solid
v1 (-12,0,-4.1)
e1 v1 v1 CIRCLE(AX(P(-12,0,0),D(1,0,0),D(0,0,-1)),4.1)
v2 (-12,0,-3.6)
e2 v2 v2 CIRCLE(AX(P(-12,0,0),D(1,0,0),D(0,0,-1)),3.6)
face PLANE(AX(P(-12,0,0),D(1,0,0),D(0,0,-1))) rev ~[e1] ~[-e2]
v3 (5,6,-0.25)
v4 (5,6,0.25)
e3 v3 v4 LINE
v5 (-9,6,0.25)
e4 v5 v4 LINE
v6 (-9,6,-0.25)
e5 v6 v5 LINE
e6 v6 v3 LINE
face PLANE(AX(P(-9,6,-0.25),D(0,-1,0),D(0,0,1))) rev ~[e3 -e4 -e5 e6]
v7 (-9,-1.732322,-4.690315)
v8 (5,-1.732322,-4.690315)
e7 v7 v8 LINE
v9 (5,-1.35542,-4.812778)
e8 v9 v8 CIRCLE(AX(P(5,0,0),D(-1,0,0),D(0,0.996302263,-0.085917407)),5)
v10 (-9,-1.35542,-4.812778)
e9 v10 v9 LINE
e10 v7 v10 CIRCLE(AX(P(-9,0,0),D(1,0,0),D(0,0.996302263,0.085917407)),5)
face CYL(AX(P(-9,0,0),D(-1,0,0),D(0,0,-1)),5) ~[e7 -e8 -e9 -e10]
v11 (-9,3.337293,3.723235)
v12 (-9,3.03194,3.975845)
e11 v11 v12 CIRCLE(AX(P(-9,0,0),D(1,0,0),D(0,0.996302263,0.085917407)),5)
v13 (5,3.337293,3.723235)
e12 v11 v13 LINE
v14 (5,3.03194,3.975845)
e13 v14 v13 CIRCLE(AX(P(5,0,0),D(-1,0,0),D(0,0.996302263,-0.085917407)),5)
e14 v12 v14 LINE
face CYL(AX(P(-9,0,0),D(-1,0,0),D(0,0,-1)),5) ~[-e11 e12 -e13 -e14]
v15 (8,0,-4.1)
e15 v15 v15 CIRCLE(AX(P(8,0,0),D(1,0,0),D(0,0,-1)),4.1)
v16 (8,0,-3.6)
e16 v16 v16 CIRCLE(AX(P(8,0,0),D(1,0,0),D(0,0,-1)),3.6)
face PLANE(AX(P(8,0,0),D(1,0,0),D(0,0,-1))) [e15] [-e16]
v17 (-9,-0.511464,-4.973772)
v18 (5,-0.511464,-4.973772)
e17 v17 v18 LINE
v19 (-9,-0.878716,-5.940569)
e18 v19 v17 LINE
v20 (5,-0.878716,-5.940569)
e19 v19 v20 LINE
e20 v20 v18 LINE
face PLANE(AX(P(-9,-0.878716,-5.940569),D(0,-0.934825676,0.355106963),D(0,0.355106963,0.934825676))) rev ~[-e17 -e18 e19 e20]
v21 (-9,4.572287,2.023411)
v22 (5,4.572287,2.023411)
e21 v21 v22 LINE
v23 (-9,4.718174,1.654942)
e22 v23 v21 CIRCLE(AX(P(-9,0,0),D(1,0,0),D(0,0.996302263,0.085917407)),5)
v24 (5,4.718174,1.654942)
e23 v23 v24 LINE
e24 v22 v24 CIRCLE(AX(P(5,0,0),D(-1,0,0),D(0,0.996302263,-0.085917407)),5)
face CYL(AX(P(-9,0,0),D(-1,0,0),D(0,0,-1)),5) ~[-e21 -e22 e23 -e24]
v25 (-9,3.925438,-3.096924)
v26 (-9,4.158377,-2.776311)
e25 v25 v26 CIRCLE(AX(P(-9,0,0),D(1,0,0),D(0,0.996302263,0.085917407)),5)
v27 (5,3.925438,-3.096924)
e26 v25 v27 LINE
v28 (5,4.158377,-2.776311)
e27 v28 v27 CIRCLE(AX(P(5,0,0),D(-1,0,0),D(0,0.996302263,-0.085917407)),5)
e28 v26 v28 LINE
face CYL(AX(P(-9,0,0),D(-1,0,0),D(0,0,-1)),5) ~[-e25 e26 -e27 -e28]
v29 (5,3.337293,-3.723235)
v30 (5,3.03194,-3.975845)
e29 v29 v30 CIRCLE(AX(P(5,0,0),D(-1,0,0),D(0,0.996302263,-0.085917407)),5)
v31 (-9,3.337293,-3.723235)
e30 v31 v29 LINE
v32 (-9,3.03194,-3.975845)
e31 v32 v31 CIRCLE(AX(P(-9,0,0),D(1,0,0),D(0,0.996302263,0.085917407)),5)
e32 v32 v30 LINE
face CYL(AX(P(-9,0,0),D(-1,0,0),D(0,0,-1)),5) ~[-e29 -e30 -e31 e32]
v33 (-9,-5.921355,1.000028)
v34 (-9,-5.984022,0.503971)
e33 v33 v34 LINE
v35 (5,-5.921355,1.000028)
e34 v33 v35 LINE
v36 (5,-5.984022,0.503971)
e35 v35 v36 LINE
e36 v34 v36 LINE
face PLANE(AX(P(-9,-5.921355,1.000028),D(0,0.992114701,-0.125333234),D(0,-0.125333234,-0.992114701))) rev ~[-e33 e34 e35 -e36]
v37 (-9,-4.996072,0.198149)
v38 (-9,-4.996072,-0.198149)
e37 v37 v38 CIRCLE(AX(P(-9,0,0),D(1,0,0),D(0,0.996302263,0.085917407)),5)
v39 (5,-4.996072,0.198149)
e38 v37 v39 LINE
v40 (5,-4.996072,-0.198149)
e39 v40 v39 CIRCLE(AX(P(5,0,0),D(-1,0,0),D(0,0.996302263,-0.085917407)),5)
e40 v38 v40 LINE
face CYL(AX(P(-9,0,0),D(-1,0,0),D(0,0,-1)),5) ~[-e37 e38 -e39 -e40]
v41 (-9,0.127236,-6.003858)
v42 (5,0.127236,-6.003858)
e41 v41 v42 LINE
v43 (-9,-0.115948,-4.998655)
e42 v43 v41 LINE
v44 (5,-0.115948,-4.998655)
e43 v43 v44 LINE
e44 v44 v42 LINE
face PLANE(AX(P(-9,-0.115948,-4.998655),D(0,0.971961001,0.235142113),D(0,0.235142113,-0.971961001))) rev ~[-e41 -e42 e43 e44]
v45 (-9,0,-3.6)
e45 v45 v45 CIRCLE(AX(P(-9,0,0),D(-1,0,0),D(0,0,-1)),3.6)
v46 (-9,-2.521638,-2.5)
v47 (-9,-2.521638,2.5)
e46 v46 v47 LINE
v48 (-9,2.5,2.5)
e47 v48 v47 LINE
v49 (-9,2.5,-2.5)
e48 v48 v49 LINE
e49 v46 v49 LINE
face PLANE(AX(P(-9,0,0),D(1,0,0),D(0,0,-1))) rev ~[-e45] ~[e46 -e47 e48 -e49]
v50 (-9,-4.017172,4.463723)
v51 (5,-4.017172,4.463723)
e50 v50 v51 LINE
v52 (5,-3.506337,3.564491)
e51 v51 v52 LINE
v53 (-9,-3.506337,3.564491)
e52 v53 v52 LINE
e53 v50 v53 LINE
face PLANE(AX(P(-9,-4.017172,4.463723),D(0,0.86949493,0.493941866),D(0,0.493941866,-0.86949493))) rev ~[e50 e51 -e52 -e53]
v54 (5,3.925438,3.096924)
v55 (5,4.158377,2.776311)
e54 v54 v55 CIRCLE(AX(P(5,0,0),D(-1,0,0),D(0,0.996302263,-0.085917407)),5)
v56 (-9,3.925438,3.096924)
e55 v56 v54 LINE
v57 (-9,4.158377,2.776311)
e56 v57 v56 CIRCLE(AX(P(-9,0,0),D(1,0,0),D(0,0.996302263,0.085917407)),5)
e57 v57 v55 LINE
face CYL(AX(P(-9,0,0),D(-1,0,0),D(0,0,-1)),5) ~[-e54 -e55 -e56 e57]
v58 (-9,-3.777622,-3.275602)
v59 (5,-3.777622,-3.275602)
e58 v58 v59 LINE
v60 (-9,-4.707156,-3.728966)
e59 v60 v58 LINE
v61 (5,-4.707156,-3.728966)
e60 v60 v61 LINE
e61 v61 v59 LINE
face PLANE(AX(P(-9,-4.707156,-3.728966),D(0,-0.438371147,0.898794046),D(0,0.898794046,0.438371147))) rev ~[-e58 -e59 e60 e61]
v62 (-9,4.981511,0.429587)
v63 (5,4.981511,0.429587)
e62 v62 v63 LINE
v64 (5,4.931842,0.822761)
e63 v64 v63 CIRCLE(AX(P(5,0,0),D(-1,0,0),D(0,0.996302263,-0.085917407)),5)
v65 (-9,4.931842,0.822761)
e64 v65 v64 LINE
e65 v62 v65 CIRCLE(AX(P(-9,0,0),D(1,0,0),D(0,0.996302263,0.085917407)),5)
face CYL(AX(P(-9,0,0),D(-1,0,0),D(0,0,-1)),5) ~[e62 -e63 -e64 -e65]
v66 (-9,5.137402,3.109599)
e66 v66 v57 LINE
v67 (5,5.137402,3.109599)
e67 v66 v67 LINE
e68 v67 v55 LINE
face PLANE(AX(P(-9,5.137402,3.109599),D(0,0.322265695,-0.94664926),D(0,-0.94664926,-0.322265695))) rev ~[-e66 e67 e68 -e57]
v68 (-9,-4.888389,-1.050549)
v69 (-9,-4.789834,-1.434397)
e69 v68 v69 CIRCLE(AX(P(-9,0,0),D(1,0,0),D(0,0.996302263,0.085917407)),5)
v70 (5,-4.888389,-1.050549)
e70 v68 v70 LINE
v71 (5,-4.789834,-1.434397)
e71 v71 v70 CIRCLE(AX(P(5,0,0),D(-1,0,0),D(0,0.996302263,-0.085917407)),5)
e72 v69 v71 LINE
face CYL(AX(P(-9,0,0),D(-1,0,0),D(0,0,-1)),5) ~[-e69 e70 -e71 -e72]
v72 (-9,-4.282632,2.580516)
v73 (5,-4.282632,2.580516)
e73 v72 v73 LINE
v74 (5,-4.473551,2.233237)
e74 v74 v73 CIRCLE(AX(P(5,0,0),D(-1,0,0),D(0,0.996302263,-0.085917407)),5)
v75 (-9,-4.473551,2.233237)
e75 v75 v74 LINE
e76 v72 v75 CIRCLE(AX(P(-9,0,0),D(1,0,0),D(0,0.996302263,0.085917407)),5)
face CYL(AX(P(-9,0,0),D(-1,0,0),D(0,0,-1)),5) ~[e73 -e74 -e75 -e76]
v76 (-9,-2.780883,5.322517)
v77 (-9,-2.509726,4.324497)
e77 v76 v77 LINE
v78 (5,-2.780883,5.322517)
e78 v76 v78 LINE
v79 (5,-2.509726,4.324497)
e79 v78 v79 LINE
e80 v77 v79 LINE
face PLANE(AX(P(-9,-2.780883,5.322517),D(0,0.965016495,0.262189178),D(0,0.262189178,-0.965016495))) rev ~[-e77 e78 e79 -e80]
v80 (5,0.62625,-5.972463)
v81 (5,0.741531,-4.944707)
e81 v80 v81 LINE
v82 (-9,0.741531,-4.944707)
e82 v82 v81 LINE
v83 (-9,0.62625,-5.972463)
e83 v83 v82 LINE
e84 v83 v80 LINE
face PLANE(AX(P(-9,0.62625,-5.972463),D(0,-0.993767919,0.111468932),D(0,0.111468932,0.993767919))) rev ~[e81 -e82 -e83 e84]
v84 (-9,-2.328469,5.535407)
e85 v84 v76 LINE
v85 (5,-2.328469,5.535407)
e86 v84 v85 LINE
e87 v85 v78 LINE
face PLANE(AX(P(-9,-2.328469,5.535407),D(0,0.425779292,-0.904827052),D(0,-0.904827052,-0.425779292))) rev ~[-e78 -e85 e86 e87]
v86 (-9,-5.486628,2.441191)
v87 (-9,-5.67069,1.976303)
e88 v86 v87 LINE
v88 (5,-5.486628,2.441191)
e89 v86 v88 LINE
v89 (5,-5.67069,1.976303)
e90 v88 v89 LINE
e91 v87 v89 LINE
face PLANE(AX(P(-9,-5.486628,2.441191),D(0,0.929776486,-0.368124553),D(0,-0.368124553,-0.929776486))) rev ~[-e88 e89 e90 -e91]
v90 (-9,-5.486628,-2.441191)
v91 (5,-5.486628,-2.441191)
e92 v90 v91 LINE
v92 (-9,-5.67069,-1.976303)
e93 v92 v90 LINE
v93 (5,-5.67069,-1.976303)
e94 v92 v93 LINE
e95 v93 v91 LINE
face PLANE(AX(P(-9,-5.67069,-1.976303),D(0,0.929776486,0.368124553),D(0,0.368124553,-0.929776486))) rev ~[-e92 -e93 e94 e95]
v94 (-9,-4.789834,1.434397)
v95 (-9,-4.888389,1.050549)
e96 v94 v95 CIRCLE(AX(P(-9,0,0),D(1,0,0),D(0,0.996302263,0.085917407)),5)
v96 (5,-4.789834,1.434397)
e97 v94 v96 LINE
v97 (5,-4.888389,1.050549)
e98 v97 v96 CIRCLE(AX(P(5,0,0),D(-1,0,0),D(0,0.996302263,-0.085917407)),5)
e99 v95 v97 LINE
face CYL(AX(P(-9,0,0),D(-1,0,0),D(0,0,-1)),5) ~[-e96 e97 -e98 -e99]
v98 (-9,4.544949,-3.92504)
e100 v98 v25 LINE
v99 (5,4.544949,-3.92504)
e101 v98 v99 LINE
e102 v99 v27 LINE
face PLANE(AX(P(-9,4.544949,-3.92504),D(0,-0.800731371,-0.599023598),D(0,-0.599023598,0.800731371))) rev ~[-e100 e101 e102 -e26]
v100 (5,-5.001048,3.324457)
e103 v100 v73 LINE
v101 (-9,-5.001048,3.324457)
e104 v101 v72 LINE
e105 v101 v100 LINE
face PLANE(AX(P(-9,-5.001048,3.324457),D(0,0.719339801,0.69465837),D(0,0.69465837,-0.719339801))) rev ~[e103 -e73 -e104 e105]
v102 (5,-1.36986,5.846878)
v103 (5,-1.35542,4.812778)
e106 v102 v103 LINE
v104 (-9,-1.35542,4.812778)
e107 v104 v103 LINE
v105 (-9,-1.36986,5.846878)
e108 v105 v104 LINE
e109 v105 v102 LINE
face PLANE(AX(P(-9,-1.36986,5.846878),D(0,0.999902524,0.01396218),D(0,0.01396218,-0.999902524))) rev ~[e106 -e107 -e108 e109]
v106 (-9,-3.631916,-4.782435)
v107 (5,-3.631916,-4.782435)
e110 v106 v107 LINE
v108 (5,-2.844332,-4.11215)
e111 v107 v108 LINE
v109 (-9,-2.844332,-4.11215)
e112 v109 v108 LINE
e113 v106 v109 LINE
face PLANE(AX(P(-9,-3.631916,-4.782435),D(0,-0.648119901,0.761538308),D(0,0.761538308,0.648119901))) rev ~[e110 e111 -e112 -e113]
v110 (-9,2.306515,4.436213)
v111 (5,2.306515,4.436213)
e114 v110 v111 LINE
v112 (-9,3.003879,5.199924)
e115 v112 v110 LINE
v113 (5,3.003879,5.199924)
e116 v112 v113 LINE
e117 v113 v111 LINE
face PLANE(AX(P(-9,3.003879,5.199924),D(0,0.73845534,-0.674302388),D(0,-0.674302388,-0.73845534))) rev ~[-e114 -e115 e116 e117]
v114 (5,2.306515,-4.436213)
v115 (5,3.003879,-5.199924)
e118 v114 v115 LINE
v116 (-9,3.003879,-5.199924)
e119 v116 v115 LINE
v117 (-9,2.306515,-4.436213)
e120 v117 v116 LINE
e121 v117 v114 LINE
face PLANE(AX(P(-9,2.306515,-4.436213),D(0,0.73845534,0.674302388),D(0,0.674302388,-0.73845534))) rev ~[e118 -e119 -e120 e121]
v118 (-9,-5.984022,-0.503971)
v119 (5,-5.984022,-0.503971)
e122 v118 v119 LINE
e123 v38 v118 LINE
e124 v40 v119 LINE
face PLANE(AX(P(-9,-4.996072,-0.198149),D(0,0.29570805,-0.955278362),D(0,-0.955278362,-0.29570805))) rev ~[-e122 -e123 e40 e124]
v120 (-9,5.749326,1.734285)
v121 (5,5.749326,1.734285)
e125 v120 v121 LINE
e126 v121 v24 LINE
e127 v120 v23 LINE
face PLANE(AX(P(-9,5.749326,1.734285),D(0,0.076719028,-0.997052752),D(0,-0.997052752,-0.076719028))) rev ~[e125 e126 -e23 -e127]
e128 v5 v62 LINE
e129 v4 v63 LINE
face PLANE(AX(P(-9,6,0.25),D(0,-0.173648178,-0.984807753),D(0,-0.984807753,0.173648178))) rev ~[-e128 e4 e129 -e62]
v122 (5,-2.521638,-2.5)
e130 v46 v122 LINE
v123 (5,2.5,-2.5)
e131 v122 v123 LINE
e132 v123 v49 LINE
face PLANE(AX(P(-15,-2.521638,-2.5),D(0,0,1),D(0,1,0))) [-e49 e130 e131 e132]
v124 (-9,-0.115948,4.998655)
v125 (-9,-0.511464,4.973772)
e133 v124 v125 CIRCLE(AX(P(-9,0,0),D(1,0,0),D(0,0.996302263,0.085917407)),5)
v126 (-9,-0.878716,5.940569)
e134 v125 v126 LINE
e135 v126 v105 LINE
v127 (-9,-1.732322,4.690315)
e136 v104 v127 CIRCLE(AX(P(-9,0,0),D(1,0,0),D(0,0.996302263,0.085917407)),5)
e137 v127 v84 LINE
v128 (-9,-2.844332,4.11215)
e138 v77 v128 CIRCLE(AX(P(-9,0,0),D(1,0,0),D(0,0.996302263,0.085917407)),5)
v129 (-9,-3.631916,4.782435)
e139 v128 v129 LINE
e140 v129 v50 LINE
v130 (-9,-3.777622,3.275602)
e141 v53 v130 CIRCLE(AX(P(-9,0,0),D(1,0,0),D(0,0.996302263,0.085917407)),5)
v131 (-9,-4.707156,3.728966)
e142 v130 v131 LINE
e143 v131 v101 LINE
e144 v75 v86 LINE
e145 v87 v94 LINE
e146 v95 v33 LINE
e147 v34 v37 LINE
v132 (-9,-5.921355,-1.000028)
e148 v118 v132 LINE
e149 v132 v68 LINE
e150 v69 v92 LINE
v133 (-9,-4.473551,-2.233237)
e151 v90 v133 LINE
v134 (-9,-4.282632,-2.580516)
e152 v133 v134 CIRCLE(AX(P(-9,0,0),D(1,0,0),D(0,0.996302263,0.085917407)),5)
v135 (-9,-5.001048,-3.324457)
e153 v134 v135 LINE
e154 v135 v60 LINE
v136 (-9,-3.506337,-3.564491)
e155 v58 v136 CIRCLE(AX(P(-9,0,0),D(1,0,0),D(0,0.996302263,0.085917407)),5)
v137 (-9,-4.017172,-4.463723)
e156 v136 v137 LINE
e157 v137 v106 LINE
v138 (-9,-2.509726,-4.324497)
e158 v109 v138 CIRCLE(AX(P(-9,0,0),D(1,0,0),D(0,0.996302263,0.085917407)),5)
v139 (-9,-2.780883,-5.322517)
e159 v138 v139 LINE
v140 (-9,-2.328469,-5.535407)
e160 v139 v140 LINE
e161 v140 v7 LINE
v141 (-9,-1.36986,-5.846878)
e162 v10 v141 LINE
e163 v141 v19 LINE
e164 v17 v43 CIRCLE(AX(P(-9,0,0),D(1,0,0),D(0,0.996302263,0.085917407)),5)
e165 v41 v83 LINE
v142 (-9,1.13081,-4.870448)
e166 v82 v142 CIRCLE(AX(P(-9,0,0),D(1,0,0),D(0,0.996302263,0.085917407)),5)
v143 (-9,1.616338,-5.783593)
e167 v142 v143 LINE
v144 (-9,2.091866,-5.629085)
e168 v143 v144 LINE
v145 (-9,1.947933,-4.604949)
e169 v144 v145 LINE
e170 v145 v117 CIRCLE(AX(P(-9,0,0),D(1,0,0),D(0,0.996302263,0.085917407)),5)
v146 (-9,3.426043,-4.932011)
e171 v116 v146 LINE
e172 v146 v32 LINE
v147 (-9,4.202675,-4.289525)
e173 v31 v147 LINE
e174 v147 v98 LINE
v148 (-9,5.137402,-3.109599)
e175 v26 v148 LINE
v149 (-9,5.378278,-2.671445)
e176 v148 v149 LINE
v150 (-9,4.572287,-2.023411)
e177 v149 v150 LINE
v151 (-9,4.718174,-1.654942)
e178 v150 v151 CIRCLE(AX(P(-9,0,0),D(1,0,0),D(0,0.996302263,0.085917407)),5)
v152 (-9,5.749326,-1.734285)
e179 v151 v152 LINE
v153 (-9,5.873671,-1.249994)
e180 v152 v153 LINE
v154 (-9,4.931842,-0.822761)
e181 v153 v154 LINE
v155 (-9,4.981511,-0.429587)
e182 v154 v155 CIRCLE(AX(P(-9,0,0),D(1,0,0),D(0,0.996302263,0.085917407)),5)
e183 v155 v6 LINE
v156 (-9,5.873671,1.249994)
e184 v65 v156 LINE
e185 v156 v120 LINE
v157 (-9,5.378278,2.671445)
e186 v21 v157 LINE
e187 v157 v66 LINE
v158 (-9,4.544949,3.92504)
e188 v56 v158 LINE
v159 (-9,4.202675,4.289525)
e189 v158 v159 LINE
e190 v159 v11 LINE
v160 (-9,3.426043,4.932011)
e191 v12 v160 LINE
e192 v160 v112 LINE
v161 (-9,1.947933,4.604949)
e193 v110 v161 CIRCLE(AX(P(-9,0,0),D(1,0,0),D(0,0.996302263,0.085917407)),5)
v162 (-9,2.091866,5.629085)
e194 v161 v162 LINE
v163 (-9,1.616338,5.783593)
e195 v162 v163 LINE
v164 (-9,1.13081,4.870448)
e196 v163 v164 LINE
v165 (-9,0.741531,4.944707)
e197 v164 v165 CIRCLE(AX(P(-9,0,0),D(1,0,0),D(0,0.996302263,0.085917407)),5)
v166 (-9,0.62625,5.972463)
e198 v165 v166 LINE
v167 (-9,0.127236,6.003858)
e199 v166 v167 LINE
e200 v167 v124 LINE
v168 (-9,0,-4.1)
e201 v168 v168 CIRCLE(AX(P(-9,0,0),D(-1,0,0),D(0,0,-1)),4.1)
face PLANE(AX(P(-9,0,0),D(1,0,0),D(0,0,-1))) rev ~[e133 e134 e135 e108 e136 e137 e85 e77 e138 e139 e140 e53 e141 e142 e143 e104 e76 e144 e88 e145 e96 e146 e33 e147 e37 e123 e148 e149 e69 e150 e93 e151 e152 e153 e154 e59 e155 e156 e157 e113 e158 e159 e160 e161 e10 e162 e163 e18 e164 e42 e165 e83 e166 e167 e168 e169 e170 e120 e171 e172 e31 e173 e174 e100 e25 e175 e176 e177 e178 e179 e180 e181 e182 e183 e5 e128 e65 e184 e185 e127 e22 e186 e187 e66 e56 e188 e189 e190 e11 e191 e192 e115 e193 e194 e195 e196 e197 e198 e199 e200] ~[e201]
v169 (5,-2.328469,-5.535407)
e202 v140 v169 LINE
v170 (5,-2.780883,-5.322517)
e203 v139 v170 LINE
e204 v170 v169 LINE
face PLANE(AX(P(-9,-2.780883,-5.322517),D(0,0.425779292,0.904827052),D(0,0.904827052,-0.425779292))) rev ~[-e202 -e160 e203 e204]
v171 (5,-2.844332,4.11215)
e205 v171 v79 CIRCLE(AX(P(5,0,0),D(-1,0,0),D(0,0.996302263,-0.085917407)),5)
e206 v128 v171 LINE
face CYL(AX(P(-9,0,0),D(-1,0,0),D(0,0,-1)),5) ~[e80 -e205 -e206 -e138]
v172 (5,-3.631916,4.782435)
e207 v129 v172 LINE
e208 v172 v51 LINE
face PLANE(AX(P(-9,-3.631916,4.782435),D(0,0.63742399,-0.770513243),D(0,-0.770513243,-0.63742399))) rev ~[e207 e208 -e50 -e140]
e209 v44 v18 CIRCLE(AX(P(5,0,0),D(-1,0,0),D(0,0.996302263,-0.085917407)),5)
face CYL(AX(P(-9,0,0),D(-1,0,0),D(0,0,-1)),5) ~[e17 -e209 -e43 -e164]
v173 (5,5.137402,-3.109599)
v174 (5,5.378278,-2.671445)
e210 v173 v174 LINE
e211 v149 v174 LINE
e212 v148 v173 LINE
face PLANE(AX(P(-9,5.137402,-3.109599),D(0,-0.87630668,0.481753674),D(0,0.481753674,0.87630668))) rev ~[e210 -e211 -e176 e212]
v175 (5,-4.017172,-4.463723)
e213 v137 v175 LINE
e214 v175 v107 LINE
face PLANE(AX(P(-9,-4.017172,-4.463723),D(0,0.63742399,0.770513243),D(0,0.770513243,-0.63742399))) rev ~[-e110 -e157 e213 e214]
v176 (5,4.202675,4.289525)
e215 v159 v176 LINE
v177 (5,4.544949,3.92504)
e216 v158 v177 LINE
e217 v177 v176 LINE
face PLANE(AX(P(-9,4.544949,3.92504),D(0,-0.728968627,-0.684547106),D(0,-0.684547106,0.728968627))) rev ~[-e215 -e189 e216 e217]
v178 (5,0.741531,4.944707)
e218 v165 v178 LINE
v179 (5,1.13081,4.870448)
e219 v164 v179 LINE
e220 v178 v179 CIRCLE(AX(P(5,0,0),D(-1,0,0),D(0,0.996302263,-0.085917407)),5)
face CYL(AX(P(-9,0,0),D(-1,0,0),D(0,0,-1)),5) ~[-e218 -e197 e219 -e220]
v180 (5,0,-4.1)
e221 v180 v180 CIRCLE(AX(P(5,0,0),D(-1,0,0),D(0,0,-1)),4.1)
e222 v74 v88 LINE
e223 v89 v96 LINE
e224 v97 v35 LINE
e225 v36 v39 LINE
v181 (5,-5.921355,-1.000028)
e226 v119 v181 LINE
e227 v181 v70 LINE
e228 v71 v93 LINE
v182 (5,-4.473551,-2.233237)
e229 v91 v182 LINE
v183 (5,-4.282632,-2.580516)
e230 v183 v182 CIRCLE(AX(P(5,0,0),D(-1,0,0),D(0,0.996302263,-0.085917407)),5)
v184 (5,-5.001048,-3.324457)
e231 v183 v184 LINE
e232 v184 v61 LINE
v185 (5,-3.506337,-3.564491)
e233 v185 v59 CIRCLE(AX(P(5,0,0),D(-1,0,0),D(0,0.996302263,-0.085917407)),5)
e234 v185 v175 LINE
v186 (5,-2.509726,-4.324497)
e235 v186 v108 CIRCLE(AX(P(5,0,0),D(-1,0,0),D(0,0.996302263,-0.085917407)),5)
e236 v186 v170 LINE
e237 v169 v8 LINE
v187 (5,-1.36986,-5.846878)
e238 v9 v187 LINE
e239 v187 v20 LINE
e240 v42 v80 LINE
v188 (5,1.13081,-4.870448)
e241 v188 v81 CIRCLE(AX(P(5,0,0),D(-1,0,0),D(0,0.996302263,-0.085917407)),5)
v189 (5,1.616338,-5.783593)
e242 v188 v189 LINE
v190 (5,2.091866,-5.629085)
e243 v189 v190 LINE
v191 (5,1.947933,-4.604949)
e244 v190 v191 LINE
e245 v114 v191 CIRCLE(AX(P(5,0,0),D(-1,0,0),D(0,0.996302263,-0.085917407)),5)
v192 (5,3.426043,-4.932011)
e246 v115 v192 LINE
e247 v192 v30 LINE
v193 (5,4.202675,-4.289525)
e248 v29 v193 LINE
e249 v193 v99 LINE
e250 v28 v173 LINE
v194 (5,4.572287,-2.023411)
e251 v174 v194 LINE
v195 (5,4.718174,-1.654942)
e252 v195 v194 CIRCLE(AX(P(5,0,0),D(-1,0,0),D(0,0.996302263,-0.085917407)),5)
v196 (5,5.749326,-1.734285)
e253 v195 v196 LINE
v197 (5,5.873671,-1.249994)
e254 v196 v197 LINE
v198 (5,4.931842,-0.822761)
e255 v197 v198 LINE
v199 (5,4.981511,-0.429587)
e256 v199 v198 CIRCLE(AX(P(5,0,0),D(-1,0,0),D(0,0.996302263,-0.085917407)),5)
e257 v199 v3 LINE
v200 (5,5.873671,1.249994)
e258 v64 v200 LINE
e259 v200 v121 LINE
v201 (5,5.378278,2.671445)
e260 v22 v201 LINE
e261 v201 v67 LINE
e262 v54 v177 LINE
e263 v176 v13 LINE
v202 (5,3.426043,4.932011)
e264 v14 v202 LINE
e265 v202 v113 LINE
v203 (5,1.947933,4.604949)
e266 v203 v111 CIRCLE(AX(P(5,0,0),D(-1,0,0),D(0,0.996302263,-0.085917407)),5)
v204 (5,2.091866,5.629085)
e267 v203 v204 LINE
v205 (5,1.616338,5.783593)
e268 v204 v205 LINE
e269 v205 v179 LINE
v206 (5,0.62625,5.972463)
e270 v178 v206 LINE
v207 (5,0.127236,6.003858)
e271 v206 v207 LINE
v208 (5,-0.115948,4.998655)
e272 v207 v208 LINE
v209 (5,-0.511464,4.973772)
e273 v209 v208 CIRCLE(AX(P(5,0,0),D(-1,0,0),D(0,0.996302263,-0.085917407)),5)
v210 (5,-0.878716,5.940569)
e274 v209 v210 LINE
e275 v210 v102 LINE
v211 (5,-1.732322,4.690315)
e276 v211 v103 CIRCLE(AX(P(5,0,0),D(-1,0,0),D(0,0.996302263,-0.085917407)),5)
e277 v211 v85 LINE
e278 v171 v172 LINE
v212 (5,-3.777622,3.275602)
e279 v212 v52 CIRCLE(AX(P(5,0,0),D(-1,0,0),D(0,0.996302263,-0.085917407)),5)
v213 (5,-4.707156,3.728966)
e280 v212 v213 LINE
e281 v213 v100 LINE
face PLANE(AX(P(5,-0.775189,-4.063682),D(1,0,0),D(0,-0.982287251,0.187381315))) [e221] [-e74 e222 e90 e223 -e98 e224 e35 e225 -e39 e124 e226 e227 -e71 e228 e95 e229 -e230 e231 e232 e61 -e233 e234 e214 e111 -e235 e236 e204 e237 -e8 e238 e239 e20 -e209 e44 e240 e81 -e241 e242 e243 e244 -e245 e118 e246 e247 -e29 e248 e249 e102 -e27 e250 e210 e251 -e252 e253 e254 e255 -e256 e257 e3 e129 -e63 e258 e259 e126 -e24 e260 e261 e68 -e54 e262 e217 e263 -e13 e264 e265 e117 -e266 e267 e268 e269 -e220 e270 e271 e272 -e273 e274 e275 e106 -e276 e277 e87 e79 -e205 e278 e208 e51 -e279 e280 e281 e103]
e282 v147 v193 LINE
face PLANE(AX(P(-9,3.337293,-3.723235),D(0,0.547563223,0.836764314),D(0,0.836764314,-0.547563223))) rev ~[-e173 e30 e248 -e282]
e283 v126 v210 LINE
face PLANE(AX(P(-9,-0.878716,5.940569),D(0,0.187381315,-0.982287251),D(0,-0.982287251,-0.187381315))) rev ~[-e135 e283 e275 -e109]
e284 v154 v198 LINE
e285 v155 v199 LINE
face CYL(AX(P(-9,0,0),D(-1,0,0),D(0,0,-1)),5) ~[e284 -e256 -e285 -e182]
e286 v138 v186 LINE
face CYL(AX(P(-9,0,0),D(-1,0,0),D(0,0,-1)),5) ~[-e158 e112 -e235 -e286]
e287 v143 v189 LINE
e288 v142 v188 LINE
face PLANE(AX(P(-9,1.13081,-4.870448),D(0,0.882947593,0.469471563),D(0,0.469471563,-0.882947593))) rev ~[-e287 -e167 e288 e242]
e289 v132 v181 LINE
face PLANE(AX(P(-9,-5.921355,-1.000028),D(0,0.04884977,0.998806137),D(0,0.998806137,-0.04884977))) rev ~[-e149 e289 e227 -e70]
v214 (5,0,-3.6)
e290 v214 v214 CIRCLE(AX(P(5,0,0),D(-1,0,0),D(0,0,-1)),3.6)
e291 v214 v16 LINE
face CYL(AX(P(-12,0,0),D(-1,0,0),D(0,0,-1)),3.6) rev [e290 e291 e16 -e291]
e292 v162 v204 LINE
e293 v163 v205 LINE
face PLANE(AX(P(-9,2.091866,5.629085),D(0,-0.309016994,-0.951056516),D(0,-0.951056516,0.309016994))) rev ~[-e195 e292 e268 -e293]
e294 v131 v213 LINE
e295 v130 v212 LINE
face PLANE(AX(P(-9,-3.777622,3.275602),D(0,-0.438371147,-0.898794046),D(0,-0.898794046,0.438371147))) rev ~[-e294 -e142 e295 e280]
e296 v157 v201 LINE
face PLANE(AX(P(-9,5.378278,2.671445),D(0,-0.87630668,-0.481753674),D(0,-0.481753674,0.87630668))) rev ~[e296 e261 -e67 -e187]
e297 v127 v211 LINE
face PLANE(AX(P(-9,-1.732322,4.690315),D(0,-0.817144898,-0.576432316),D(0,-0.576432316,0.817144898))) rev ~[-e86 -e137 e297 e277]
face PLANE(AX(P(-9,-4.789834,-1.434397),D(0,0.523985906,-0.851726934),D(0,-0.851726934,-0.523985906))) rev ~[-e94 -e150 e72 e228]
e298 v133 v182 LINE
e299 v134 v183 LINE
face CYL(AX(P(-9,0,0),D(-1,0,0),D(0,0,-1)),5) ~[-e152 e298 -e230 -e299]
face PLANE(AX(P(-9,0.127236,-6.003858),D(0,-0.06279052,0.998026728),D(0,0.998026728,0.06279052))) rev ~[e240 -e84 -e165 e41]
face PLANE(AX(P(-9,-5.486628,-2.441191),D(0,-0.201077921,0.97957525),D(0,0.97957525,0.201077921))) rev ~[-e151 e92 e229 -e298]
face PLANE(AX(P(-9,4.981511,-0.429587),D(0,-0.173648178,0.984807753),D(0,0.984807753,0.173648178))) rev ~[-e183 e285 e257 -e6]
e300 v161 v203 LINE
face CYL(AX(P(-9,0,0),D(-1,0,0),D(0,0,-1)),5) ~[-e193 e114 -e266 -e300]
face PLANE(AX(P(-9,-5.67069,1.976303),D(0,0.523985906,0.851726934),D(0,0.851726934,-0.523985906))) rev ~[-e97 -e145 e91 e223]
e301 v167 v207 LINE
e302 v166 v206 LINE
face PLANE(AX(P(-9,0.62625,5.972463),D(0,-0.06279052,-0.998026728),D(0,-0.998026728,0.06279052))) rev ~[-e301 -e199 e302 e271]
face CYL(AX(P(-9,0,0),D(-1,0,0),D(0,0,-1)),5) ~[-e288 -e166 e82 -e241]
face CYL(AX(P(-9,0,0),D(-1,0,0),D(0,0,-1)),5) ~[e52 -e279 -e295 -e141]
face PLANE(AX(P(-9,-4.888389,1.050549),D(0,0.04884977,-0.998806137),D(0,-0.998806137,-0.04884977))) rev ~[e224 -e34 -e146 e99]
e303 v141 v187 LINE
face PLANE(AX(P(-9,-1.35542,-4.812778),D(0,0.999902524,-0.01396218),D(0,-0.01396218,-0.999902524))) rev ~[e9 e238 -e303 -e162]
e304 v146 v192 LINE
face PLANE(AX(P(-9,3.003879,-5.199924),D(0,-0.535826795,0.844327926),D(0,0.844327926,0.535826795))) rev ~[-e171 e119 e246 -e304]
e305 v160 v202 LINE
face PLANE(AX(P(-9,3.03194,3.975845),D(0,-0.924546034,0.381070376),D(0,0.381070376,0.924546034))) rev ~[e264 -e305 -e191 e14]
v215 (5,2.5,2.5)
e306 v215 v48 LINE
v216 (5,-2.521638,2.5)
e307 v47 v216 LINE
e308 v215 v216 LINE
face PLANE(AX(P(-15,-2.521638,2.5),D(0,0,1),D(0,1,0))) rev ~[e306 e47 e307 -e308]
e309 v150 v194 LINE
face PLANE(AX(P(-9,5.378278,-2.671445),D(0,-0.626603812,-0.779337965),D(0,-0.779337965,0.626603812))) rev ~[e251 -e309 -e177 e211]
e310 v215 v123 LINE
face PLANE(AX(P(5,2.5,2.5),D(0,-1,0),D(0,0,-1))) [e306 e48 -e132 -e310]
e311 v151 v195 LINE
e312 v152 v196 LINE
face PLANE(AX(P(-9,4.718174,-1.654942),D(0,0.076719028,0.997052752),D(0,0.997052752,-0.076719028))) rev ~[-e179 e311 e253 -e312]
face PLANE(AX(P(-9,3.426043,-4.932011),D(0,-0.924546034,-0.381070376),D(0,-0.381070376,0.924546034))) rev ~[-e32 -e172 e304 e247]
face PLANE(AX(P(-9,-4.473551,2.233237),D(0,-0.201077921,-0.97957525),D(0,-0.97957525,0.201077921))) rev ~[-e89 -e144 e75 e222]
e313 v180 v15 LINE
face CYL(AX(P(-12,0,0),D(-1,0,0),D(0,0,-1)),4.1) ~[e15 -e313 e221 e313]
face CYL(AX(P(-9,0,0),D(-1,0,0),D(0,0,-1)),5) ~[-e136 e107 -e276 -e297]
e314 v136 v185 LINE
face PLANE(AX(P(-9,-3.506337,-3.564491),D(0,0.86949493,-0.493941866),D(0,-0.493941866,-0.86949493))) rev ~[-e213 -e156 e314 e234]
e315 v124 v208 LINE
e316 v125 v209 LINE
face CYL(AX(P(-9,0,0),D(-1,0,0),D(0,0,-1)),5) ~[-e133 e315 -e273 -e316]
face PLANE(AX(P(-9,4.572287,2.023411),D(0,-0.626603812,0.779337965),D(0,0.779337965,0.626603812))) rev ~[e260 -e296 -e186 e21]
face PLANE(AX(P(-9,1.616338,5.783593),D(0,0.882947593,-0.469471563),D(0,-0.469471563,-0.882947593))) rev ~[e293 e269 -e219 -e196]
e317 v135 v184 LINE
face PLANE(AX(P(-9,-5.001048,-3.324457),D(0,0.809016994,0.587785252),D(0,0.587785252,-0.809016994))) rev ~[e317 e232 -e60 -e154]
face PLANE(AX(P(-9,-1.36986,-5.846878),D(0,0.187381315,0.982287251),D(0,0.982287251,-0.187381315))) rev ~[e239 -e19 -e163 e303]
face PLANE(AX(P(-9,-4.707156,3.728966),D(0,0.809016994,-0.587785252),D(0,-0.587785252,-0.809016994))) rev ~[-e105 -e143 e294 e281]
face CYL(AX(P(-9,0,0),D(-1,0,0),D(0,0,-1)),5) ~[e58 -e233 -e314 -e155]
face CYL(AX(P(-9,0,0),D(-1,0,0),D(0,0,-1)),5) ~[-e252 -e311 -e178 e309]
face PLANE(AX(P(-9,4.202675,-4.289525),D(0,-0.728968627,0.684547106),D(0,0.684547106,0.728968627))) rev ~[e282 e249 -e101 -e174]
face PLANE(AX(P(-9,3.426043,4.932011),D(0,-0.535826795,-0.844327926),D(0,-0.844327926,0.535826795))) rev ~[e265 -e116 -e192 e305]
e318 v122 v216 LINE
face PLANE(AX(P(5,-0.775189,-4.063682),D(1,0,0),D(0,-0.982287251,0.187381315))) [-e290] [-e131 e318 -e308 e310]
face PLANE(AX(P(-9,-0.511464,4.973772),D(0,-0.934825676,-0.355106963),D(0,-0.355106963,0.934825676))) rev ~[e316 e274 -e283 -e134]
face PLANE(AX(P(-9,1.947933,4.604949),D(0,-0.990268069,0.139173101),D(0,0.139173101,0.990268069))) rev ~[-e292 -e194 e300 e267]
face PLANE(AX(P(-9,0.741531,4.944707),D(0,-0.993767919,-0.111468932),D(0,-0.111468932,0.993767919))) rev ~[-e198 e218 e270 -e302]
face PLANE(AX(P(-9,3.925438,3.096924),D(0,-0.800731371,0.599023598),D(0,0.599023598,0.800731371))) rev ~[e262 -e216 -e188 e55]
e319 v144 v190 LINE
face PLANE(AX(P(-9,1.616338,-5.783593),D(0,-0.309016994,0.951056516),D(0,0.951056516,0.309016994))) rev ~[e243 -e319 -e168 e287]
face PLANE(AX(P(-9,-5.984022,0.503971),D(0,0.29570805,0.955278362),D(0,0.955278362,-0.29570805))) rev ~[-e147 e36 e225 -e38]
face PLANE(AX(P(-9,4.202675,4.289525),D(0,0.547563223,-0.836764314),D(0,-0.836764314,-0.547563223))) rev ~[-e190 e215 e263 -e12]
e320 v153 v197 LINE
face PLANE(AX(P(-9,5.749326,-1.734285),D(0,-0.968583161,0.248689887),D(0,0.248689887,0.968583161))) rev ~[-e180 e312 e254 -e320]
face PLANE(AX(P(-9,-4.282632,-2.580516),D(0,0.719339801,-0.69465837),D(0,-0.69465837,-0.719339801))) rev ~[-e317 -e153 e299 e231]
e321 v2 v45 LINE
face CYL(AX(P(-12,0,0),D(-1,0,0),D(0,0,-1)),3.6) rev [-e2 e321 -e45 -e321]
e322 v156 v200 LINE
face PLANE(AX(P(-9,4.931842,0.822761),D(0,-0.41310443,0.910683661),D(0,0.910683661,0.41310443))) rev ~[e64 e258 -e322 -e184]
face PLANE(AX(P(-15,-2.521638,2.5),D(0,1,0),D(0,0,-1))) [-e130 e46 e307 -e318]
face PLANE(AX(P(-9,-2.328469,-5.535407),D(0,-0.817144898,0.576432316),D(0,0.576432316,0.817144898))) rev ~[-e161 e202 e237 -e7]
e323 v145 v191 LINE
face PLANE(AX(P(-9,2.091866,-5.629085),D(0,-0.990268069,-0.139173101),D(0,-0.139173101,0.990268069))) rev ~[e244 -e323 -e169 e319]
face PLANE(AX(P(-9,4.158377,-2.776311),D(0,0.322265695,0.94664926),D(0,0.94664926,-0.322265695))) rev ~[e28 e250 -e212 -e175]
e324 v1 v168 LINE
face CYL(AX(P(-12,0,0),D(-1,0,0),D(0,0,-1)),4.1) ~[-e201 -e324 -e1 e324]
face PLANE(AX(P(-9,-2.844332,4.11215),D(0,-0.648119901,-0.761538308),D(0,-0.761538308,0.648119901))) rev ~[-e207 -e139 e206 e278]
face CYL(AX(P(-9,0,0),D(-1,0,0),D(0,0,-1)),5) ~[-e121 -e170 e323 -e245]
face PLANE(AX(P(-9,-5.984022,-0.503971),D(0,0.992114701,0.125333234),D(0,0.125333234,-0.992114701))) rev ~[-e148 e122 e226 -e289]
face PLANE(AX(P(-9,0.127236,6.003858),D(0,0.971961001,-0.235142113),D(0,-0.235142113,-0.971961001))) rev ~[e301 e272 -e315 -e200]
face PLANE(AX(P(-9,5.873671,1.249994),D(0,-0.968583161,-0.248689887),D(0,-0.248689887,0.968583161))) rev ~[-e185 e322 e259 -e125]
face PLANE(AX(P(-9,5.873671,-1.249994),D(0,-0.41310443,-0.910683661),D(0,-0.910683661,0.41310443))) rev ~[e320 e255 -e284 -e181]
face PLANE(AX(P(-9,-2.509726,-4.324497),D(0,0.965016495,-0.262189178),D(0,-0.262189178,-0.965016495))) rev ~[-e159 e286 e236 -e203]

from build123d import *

# Parameters (mm, degrees)
BOSS_EXTRUDE2_START      = -9
BOSS_EXTRUDE2_DEPTH      = 14
BOSS_EXTRUDE3_DEPTH      = 5
BOSS_EXTRUDE3_DEPTH_BACK = 9
SKETCH3_R                = 5
CIRPATTERN1_COUNT        = 25
SKETCH4_W                = 5
SKETCH4_H                = 5
CUT_EXTRUDE1_DEPTH       = 18
BOSS_EXTRUDE4_DEPTH      = 3
BOSS_EXTRUDE4_DEPTH_BACK = 17
SKETCH6_R                = 4.1
SKETCH6_R_2              = 3.6
CUT_EXTRUDE2_DEPTH       = 10
CUT_EXTRUDE2_DEPTH_BACK  = 20
SKETCH7_W                = 5
SKETCH7_H                = 5.021637953


with BuildPart() as part:
    # Sketch2 → Boss-Extrude2 (new body)
    with BuildSketch(Plane(origin=(0, 0, 0), x_dir=(0, 0, -1), z_dir=(1, 0, 0)).offset(BOSS_EXTRUDE2_START)):
        with BuildLine():
            ThreePointArc((0.429587035, 4.981511315), (0, 5), (-0.429587035, 4.981511315))
            Line((-0.429587035, 4.981511315), (-0.700772987, 3.443539352))
            Line((-0.700772987, 3.443539352), (0.700772987, 3.443539352))
            Line((0.700772987, 3.443539352), (0.429587035, 4.981511315))
        make_face()
        with BuildLine():
            Line((0.25, 6), (-0.25, 6))
            Line((-0.25, 6), (-0.429587035, 4.981511315))
            ThreePointArc((-0.429587035, 4.981511315), (0, 5), (0.429587035, 4.981511315))
            Line((0.429587035, 4.981511315), (0.25, 6))
        make_face()
    boss_extrude2 = extrude(amount=BOSS_EXTRUDE2_DEPTH)

    # Sketch3 → Boss-Extrude3 (add, two sides: drawn at the far end of the back side and taken through both)
    with BuildSketch(Plane(origin=(0, 0, 0), x_dir=(0, 0, -1), z_dir=(1, 0, 0)).offset(-BOSS_EXTRUDE3_DEPTH_BACK)):
        Circle(SKETCH3_R)
    extrude(amount=BOSS_EXTRUDE3_DEPTH + BOSS_EXTRUDE3_DEPTH_BACK)

    # CirPattern1: Boss-Extrude2 ×25 about axis
    cirpattern1_axis = Axis((0, 0, 0), (1, 0, 0))
    for i in range(1, CIRPATTERN1_COUNT):
        add(boss_extrude2.rotate(cirpattern1_axis, i * 360 / CIRPATTERN1_COUNT))

    # Sketch4 → Cut-Extrude1 (cut)
    with BuildSketch(Plane(origin=(5, 0, 0), x_dir=(0, 0, -1), z_dir=(1, 0, 0))):
        Rectangle(SKETCH4_W, SKETCH4_H)
    extrude(amount=-CUT_EXTRUDE1_DEPTH, mode=Mode.SUBTRACT)

    # Sketch6 → Boss-Extrude4 (add, two sides: drawn at the far end of the back side and taken through both)
    with BuildSketch(Plane(origin=(5, 0, 0), x_dir=(0, 0, -1), z_dir=(1, 0, 0)).offset(-BOSS_EXTRUDE4_DEPTH_BACK)):
        Circle(SKETCH6_R)
        Circle(SKETCH6_R_2, mode=Mode.SUBTRACT)
    extrude(amount=BOSS_EXTRUDE4_DEPTH + BOSS_EXTRUDE4_DEPTH_BACK)

    # Sketch7 → Cut-Extrude2 (cut, two sides: drawn at the far end of the back side and taken through both)
    with BuildSketch(Plane(origin=(5, 0, 0), x_dir=(0, 0, -1), z_dir=(1, 0, 0)).offset(-CUT_EXTRUDE2_DEPTH_BACK)):
        with Locations((0, -0.010818977)):
            Rectangle(SKETCH7_W, SKETCH7_H)
    extrude(amount=CUT_EXTRUDE2_DEPTH + CUT_EXTRUDE2_DEPTH_BACK, mode=Mode.SUBTRACT)


solid = part.part
